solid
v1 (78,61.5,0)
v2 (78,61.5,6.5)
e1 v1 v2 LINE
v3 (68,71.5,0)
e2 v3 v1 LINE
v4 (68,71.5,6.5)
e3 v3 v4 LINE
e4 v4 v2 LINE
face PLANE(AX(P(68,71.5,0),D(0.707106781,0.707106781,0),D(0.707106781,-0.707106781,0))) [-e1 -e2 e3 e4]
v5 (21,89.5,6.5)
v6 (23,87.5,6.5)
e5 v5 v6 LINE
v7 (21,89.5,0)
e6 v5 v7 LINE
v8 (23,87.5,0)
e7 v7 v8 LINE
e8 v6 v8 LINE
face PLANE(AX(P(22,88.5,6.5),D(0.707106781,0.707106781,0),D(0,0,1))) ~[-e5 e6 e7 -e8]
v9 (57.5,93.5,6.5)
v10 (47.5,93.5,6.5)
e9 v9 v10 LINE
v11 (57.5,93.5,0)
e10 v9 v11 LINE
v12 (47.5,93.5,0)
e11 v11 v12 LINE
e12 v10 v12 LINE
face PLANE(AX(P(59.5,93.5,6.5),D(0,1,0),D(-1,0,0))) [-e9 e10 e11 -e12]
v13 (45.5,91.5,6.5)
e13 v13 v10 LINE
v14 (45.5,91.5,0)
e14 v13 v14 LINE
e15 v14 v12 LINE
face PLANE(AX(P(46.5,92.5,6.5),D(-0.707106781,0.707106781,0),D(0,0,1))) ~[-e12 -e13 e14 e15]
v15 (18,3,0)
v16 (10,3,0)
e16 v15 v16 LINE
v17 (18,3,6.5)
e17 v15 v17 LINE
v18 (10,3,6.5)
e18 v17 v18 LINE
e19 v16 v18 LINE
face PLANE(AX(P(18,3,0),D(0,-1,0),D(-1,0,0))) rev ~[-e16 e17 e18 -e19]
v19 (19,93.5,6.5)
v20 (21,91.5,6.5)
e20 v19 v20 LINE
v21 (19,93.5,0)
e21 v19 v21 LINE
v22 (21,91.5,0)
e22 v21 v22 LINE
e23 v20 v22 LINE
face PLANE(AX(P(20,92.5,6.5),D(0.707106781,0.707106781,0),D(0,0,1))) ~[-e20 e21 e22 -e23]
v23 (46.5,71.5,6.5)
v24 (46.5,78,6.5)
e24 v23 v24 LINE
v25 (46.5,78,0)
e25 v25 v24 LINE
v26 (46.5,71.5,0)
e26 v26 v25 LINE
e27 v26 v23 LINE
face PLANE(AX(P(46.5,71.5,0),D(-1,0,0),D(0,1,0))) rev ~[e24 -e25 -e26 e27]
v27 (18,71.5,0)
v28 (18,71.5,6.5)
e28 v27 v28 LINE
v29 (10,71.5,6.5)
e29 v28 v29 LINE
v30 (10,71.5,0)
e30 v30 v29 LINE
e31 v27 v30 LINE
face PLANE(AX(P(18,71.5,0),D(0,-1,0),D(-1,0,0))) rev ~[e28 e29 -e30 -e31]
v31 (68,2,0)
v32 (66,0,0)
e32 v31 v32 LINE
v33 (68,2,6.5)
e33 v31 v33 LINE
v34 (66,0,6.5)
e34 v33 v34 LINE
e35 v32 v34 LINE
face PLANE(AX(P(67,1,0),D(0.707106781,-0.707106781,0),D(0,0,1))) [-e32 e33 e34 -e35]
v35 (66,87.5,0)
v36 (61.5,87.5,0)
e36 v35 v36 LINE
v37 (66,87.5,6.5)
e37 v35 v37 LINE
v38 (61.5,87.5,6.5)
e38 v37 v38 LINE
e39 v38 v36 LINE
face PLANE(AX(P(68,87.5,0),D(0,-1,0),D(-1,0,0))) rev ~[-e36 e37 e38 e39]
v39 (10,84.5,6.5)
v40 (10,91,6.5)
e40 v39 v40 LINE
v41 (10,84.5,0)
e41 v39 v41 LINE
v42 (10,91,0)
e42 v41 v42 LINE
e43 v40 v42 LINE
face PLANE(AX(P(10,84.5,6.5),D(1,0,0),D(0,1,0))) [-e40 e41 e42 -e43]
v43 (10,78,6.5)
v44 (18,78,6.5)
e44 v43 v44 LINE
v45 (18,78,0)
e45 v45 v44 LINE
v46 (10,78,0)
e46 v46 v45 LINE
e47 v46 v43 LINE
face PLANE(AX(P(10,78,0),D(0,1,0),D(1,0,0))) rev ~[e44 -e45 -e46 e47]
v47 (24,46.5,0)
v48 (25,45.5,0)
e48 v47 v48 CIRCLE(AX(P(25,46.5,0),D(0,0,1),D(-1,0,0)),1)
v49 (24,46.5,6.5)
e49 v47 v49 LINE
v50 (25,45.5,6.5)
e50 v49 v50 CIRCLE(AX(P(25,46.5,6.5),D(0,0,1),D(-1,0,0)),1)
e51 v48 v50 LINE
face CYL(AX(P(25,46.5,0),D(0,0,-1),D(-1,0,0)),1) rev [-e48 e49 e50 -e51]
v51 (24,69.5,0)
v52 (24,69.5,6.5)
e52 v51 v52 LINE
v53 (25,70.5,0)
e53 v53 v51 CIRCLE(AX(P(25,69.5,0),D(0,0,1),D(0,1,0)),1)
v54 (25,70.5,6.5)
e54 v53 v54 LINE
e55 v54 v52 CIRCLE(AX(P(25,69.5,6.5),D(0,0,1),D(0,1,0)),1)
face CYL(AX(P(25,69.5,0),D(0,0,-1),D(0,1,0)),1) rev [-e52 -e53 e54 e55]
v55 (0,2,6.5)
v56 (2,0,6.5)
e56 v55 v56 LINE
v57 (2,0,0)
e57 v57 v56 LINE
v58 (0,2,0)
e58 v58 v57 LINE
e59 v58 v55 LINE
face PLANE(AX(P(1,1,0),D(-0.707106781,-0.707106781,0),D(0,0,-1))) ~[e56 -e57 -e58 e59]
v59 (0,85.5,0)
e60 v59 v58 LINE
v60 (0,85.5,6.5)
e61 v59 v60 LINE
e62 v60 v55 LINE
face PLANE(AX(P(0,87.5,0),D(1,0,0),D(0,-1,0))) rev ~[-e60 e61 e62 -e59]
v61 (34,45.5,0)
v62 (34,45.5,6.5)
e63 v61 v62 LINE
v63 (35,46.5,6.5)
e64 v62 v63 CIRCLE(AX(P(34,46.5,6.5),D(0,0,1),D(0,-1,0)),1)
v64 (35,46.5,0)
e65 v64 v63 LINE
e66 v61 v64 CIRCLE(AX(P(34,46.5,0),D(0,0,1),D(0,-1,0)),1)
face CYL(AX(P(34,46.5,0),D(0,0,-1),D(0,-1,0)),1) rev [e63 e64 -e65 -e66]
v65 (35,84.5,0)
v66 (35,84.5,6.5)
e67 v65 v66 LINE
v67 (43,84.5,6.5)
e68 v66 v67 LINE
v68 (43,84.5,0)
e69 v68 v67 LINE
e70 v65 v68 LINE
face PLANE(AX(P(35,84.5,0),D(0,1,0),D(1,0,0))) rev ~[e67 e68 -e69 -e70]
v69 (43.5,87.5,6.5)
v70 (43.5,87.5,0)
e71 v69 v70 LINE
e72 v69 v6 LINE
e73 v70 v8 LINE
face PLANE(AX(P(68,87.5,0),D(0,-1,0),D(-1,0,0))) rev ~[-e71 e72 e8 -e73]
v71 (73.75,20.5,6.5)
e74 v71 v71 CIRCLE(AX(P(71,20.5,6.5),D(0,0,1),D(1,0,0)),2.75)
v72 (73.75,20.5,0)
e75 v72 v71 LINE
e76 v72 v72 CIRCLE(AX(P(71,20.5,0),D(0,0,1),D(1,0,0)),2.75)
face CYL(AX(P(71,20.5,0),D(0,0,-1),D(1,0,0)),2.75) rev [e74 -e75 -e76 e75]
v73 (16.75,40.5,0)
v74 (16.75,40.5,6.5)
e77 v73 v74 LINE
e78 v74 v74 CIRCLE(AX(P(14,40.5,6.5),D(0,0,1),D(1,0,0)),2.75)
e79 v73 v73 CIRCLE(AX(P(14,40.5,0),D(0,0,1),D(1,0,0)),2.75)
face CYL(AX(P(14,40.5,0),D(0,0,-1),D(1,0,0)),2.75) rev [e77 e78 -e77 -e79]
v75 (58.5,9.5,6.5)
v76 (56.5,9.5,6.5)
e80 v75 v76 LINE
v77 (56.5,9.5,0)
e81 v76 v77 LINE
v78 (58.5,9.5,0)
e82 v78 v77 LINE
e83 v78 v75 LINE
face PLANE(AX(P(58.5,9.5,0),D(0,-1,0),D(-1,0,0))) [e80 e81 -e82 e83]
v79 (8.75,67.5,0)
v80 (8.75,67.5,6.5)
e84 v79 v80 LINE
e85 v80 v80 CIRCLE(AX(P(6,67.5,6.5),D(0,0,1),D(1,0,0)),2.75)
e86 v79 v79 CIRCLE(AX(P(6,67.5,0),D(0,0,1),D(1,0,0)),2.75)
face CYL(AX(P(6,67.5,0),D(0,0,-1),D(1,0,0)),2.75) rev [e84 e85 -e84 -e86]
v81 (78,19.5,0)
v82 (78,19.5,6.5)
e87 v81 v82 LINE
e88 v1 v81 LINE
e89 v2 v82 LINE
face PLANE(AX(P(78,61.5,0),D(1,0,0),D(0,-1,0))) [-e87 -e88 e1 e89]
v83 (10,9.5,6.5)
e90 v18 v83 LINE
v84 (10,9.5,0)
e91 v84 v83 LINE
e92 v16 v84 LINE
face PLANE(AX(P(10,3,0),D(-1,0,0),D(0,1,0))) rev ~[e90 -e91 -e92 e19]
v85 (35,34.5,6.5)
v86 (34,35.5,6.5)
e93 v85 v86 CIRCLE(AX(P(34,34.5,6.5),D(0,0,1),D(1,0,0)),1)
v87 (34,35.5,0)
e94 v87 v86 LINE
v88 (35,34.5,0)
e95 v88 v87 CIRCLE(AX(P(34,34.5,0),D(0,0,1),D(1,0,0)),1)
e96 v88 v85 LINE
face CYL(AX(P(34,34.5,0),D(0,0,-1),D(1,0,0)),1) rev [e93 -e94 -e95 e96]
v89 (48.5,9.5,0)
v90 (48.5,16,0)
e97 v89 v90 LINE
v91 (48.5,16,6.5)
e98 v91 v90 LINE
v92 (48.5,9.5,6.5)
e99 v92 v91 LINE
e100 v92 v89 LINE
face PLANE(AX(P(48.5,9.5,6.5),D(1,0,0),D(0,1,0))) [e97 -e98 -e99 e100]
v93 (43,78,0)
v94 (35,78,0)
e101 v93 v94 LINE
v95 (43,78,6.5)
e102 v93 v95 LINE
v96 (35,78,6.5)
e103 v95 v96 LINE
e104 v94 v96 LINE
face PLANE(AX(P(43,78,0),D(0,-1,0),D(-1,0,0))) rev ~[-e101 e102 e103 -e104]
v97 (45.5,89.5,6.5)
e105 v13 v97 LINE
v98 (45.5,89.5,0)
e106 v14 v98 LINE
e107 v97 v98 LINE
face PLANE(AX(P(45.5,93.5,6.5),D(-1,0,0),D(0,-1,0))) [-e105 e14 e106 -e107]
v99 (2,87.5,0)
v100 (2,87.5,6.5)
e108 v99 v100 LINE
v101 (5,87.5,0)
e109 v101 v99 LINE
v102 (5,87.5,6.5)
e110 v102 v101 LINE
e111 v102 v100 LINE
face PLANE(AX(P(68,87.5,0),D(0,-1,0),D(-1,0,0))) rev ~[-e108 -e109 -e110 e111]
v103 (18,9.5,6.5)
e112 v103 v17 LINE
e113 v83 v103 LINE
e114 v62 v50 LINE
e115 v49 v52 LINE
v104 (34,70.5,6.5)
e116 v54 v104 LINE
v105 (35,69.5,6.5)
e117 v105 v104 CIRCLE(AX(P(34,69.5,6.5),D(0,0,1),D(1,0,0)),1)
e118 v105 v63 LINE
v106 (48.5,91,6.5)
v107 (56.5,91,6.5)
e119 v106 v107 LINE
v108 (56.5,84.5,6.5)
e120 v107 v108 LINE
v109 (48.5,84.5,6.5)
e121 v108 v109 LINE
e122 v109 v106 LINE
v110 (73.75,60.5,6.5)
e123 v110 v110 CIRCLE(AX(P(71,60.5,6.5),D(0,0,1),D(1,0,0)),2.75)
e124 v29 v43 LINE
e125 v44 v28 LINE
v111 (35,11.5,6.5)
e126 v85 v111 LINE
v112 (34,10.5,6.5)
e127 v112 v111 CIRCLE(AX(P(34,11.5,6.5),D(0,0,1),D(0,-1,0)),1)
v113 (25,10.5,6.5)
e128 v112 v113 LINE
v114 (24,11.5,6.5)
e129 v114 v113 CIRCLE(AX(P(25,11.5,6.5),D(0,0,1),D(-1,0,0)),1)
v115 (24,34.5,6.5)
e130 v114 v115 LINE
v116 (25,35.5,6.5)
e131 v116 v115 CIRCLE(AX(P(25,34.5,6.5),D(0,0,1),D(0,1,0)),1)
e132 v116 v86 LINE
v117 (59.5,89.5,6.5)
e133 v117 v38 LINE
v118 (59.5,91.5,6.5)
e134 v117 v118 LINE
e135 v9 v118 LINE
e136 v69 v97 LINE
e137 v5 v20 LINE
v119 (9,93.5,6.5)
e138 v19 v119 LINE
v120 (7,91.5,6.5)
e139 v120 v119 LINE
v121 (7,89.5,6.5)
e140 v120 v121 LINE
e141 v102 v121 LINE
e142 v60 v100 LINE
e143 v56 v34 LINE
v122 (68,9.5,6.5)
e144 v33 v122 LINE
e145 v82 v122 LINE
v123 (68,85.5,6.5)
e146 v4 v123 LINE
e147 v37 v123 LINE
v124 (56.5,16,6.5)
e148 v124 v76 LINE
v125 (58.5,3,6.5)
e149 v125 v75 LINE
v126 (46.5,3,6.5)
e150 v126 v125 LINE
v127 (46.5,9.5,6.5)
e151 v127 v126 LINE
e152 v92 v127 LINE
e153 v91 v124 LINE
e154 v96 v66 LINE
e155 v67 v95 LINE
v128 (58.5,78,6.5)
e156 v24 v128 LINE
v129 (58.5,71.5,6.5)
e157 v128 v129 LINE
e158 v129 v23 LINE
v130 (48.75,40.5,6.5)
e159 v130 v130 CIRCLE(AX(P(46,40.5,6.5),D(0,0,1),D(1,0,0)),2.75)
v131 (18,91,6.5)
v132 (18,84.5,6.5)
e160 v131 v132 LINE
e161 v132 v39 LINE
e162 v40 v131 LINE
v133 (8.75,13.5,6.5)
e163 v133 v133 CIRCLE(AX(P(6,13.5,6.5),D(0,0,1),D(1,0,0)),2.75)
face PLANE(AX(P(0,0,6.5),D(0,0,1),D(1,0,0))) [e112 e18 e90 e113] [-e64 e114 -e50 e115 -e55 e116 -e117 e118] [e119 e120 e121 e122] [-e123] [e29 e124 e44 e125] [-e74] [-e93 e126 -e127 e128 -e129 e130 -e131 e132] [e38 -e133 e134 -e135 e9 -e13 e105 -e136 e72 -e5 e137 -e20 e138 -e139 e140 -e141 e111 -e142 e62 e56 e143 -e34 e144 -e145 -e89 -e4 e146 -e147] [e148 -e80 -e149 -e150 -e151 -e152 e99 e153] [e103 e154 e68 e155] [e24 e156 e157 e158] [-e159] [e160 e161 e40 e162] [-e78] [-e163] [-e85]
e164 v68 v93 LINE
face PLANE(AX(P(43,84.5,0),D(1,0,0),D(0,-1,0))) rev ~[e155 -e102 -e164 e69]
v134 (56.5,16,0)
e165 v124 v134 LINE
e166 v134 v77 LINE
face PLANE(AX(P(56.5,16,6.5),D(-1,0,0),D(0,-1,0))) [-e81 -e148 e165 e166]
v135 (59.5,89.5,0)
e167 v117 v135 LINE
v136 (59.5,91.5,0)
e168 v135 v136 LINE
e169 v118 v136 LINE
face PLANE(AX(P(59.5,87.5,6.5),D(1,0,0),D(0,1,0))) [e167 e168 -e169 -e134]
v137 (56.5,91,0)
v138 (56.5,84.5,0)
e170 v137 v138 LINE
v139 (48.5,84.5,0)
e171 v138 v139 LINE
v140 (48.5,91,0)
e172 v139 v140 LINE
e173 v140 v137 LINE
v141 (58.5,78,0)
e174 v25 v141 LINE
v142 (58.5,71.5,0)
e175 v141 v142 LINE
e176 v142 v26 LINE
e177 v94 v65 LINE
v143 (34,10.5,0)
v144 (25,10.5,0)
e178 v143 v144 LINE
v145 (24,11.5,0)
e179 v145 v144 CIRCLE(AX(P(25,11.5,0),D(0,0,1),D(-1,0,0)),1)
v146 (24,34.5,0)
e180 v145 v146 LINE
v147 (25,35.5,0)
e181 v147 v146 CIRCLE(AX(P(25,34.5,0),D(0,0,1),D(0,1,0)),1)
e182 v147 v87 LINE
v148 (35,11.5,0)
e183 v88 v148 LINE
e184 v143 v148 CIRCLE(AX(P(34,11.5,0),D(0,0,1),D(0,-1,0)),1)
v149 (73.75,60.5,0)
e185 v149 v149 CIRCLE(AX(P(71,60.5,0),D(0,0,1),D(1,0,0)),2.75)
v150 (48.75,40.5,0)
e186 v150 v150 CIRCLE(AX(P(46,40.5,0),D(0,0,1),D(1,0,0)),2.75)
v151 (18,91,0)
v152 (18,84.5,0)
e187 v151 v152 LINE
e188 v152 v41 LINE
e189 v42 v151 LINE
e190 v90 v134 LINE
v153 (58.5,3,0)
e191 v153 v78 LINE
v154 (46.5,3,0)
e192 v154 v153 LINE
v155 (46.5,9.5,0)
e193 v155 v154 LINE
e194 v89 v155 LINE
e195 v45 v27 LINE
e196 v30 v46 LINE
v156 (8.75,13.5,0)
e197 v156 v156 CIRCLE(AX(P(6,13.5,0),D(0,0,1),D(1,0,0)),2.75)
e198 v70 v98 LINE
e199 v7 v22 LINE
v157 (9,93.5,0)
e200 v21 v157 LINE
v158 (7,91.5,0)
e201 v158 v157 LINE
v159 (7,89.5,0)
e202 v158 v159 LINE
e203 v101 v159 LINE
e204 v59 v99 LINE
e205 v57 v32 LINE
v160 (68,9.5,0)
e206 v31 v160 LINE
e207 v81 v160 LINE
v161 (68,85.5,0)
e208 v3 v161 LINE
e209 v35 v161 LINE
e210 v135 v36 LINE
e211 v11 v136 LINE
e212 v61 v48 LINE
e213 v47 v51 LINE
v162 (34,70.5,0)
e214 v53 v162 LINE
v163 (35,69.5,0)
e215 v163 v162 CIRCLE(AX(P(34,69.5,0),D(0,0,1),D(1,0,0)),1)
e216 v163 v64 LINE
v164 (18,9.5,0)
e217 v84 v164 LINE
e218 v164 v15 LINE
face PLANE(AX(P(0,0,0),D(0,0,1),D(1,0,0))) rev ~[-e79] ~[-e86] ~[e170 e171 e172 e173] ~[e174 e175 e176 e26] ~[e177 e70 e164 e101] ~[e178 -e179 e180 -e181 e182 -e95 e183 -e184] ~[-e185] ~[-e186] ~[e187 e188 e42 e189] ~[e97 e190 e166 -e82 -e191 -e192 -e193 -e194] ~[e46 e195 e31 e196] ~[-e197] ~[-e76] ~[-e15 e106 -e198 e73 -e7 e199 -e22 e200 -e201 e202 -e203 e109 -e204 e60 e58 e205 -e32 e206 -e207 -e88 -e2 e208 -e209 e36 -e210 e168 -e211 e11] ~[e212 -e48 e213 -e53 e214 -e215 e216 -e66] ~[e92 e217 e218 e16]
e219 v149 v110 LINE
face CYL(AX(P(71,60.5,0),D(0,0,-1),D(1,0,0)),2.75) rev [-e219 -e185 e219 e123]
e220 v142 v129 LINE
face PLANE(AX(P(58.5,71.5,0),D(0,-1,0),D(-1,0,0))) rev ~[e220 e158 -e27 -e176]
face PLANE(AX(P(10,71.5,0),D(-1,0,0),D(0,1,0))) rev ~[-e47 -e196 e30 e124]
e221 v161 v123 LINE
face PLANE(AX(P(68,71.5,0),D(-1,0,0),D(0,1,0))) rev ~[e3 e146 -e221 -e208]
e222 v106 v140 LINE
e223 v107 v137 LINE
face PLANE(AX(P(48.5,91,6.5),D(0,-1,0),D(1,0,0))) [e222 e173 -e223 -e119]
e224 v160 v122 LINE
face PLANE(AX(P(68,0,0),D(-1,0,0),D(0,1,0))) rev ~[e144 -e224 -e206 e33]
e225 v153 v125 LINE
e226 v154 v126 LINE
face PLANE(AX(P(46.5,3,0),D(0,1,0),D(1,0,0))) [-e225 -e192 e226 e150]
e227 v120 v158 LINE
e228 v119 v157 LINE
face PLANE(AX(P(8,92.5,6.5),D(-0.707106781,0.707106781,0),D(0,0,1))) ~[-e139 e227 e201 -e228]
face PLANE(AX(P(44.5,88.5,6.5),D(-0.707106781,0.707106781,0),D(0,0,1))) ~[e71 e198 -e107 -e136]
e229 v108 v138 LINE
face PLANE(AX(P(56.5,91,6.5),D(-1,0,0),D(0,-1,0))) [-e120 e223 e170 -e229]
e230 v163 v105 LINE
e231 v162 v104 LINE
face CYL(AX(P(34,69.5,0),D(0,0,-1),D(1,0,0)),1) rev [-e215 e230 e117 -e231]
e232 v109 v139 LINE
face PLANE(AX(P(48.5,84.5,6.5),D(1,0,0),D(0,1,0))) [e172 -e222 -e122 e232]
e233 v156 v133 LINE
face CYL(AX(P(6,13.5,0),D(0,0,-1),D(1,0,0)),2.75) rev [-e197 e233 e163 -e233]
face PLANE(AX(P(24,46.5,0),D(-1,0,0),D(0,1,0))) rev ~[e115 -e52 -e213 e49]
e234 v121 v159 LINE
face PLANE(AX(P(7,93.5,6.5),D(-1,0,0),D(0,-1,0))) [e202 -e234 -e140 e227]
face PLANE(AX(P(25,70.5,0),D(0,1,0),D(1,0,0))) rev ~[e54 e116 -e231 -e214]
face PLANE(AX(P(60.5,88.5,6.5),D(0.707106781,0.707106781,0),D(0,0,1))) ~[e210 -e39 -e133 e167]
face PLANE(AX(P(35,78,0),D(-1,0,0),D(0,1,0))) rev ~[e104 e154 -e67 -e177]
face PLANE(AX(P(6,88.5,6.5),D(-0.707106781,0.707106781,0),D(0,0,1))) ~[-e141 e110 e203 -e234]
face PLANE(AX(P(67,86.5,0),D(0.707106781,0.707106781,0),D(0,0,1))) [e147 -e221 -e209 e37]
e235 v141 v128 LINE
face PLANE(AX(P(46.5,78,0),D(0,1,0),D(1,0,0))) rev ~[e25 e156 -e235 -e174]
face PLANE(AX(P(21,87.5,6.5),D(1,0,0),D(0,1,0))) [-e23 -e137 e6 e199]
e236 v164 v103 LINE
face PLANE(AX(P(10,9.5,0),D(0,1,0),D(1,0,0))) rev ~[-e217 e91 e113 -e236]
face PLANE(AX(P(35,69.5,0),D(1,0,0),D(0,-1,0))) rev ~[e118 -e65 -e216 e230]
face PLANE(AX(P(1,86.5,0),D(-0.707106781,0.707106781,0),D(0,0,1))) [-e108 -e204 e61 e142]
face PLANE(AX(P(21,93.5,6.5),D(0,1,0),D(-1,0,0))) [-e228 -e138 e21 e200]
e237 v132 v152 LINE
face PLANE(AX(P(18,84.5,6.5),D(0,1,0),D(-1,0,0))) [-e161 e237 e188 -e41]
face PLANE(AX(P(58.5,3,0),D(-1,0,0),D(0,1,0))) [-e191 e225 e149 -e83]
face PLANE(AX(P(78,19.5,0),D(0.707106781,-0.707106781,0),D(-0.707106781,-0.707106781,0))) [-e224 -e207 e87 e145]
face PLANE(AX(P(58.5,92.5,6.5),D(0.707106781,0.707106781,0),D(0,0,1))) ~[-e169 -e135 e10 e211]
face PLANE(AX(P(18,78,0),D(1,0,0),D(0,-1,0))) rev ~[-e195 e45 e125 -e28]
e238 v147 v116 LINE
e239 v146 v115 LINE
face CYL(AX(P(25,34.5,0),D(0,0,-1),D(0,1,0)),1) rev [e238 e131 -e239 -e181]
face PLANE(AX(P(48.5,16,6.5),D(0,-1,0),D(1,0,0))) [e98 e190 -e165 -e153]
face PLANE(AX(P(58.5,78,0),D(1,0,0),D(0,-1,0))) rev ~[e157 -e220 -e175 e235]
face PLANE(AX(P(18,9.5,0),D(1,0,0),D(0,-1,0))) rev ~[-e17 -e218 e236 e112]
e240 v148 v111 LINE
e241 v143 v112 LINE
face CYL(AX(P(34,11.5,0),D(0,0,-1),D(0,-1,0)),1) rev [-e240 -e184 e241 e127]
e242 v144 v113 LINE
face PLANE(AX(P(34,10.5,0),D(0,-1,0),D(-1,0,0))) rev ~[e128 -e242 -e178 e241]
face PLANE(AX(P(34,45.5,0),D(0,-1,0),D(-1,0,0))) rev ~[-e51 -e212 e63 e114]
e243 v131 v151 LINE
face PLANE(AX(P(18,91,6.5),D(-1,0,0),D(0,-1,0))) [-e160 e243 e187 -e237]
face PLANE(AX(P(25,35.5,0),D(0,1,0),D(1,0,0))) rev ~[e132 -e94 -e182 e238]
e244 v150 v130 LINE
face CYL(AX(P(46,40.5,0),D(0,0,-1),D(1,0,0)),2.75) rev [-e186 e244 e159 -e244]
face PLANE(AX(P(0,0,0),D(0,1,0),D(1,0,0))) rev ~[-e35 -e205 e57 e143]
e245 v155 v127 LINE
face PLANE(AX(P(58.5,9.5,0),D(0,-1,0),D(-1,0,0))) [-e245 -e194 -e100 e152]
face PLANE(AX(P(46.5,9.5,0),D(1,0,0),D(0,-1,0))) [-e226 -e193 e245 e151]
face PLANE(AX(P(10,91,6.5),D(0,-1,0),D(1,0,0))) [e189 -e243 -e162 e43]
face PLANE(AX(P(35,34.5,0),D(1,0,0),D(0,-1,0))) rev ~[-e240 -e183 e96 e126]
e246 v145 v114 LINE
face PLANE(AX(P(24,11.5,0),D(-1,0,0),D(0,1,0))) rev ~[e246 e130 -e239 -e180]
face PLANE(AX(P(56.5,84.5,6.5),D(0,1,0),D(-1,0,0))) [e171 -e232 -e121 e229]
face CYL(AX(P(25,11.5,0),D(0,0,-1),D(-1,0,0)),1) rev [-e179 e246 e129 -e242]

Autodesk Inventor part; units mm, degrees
ref_plane "YZ Plane" through (0, 0, 0) normal (1, 0, 0) x (0, 1, 0)
ref_plane "XZ Plane" through (0, 0, 0) normal (0, 1, 0) x (-1, 0, 0)
ref_plane "XY Plane" through (0, 0, 0) normal (0, 0, 1) x (1, 0, 0)
sketch "Sketch1" plane through (0, 0, 0) normal (0, 0, 1) x (1, 0, 0)
  line L0 (0, 0) -> (68, 0)
  line L1 (68, 87.5) -> (0, 87.5)
  line L2 (0, 87.5) -> (0, 0)
  line L3 (68, 71.5) -> (78, 61.5)
  line L4 (78, 61.5) -> (78, 19.5)
  line L5 (78, 19.5) -> (68, 9.5)
  line L6 (68, 0) -> (68, 9.5)
  line L7 (68, 71.5) -> (68, 87.5)
  line L8 (35, 84.5) -> (43, 84.5)
  line L9 (43, 84.5) -> (43, 78)
  line L10 (43, 78) -> (35, 78)
  line L11 (35, 78) -> (35, 84.5)
  line L12 (10, 78) -> (18, 78)
  line L13 (18, 78) -> (18, 71.5)
  line L14 (18, 71.5) -> (10, 71.5)
  line L15 (10, 71.5) -> (10, 78)
  line L16 (10, 9.5) -> (18, 9.5)
  line L17 (18, 9.5) -> (18, 3)
  line L18 (18, 3) -> (10, 3)
  line L19 (10, 3) -> (10, 9.5)
  line L20 (25, 70.5) -> (34, 70.5)
  line L21 (35, 69.5) -> (35, 46.5)
  line L22 (34, 45.5) -> (25, 45.5)
  line L23 (24, 46.5) -> (24, 69.5)
  line L24 (25, 35.5) -> (34, 35.5)
  line L25 (35, 34.5) -> (35, 11.5)
  line L26 (34, 10.5) -> (25, 10.5)
  line L27 (24, 11.5) -> (24, 34.5)
  arc A0 (25, 70.5) -> (24, 69.5) centre (25, 69.5) ccw
  arc A1 (35, 69.5) -> (34, 70.5) centre (34, 69.5) ccw
  arc A2 (34, 45.5) -> (35, 46.5) centre (34, 46.5) ccw
  arc A3 (24, 46.5) -> (25, 45.5) centre (25, 46.5) ccw
  arc A4 (25, 35.5) -> (24, 34.5) centre (25, 34.5) ccw
  arc A5 (24, 11.5) -> (25, 10.5) centre (25, 11.5) ccw
  arc A6 (34, 10.5) -> (35, 11.5) centre (34, 11.5) ccw
  arc A7 (35, 34.5) -> (34, 35.5) centre (34, 34.5) ccw
  line L28 (29.5, 70.5) -> (29.5, 10.5) construction
  circle A8 centre (71, 60.5) radius 2.75
  circle A9 centre (71, 20.5) radius 2.75
  line L29 (46.5, 3) -> (58.5, 3)
  line L30 (58.5, 3) -> (58.5, 9.5)
  line L31 (58.5, 9.5) -> (46.5, 9.5)
  line L32 (46.5, 9.5) -> (46.5, 3)
  circle A10 centre (6, 13.5) radius 5 construction
  circle A11 centre (6, 13.5) radius 2.75
  circle A12 centre (6, 67.5) radius 5 construction
  circle A13 centre (6, 67.5) radius 2.75
  line L33 (46.5, 78) -> (58.5, 78)
  line L34 (58.5, 78) -> (58.5, 71.5)
  line L35 (58.5, 71.5) -> (46.5, 71.5)
  line L36 (46.5, 71.5) -> (46.5, 78)
  line L37 (21, 84.5) -> (29, 84.5)
  line L38 (29, 84.5) -> (29, 78)
  line L39 (29, 78) -> (21, 78)
  line L40 (21, 78) -> (21, 84.5)
  circle A14 centre (71, 60.5) radius 5 construction
  circle A15 centre (71, 20.5) radius 5 construction
  circle A16 centre (14, 40.5) radius 5 construction
  circle A17 centre (46, 40.5) radius 5 construction
  circle A18 centre (46, 40.5) radius 2.75
  circle A19 centre (14, 40.5) radius 2.75
  line L41 (50, 87.5) -> (50, 0) construction
  line L42 (55, 87.5) -> (55, 0) construction
  line L43 (52.5, 87.5) -> (52.5, 0) construction
  line L44 (72, 13.5) -> (0, 13.5) construction
  line L45 (72, 67.5) -> (0, 67.5) construction
  point P0 (78, 40.5)
  point P1 (52.5, 3)
  dimension "d1" = 45
  dimension "d2" = 10
  dimension "d3" = 6.5
  dimension "d4" = 6.5
  dimension "d5" = 8
  dimension "d6" = 8
  dimension "d7" = 3
  dimension "d8" = 6.5
  dimension "d9" = 3
  dimension "d12" = 1
  dimension "d13" = 11
  dimension "d14" = 25
  dimension "d15" = 25
  dimension "d16" = 1
  dimension "d17" = 1
  dimension "d18" = 38.5
  dimension "d19" = 5.5
  dimension "d20" = 5.5
  dimension "d21" = 7
  dimension "d24" = 12
  dimension "d25" = 11
  dimension "d26" = 11
  dimension "d27" = 10
  dimension "d28" = 5.5
  dimension "d29" = 5.5
  dimension "d30" = 10
  dimension "d32" = 4
  dimension "d33" = 4
  dimension "d34" = 4
  dimension "d35" = 6
  dimension "d36" = 68
  dimension "d39" = 8
  dimension "d40" = 3
  dimension "d41" = 10
  dimension "d42" = 10
  dimension "d43" = 4
  dimension "d44" = 10
  dimension "d45" = 5.5
  dimension "d46" = 10
  dimension "d47" = 5.5
  dimension "d49" = 14
  dimension "d50" = 32
  dimension "d51" = 5
  dimension "d52" = 2.5
  dimension "d53" = 15.5
  dimension "d92" = 4
  dimension "d93" = 4
  dimension "d94" = 54
  dimension "d95" = 6
extrude "Extrusion1" add sketch "Sketch1" along normal blind 6.5
chamfer "Chamfer1" distance 2 angle 45 4 edges at (0, 0, 3.25) (68, 0, 3.25) (68, 87.5, 3.25) (0, 87.5, 3.25)
sketch "Sketch2" plane through (0, 0, 6.5) normal (0, 0, 1) x (1, 0, 0)
  line L0 (46.5, 9.5) -> (58.5, 9.5) projected
  line L1 (68, 2) -> (68, 9.5) projected
  line L2 (48.5, 16) -> (56.5, 16)
  line L3 (56.5, 16) -> (56.5, 9.5)
  line L4 (56.5, 9.5) -> (48.5, 9.5)
  line L5 (48.5, 9.5) -> (48.5, 16)
  point P0 (0, 0)
  dimension "d59" = 6.5
  dimension "d60" = 8
  dimension "d63" = 11.5
extrude "Extrusion2" cut sketch "Sketch2" against normal through all
sketch "Sketch3" plane through (0, 0, 6.5) normal (0, 0, 1) x (1, 0, 0)
  line L0 (29, 84.5) -> (29, 78) projected
  line L1 (29, 78) -> (21, 78) projected
  line L2 (21, 78) -> (21, 84.5) projected
  line L3 (21, 84.5) -> (29, 84.5) projected
  point P0 (0, 0)
extrude "Extrusion3" add sketch "Sketch3" against normal blind 6.5
sketch "Sketch6" plane through (0, 0, 6.5) normal (0, 0, 1) x (1, 0, 0)
  line L0 (18, 78) -> (18, 71.5) projected
  line L1 (10, 71.5) -> (10, 78) projected
  line L2 (66, 87.5) -> (2, 87.5) projected
  line L3 (7, 87.5) -> (21, 87.5)
  line L4 (21, 87.5) -> (21, 93.5)
  line L5 (21, 93.5) -> (7, 93.5)
  line L6 (7, 93.5) -> (7, 87.5)
  line L7 (45.5, 87.5) -> (59.5, 87.5)
  line L8 (59.5, 87.5) -> (59.5, 93.5)
  line L9 (59.5, 93.5) -> (45.5, 93.5)
  line L10 (45.5, 93.5) -> (45.5, 87.5)
  line L11 (46.5, 78) -> (58.5, 78) projected
  point P0 (0, 0)
  point P1 (52.5, 93.5)
  point P2 (52.5, 78)
  dimension "d80" = 3
  dimension "d81" = 3
  dimension "d84" = 6
extrude "Extrusion6" add sketch "Sketch6" against normal blind 6.5
sketch "Sketch7" plane through (0, 0, 6.5) normal (0, 0, 1) x (1, 0, 0)
  line L0 (18, 78) -> (18, 71.5) projected
  line L1 (10, 71.5) -> (10, 78) projected
  line L2 (43, 84.5) -> (43, 78) projected
  line L3 (35, 78) -> (35, 84.5) projected
  line L4 (35, 84.5) -> (43, 84.5) projected
  line L5 (10, 91) -> (18, 91)
  line L6 (18, 91) -> (18, 84.5)
  line L7 (18, 84.5) -> (10, 84.5)
  line L8 (10, 84.5) -> (10, 91)
  line L9 (48.5, 91) -> (56.5, 91)
  line L10 (56.5, 91) -> (56.5, 84.5)
  line L11 (56.5, 84.5) -> (48.5, 84.5)
  line L12 (48.5, 84.5) -> (48.5, 91)
  line L13 (59.5, 93.5) -> (45.5, 93.5) projected
  point P0 (0, 0)
  point P1 (52.5, 91)
  point P2 (52.5, 93.5)
extrude "Extrusion7" cut sketch "Sketch7" against normal blind 6.5
chamfer "Chamfer3" distance 2 angle 45 8 edges at (7, 87.5, 3.25) (7, 93.5, 3.25) (21, 93.5, 3.25) (21, 87.5, 3.25) (45.5, 87.5, 3.25) (45.5, 93.5, 3.25) (59.5, 93.5, 3.25) (59.5, 87.5, 3.25)
properties part number "x_motor_top" material "Plywood, Finish"
